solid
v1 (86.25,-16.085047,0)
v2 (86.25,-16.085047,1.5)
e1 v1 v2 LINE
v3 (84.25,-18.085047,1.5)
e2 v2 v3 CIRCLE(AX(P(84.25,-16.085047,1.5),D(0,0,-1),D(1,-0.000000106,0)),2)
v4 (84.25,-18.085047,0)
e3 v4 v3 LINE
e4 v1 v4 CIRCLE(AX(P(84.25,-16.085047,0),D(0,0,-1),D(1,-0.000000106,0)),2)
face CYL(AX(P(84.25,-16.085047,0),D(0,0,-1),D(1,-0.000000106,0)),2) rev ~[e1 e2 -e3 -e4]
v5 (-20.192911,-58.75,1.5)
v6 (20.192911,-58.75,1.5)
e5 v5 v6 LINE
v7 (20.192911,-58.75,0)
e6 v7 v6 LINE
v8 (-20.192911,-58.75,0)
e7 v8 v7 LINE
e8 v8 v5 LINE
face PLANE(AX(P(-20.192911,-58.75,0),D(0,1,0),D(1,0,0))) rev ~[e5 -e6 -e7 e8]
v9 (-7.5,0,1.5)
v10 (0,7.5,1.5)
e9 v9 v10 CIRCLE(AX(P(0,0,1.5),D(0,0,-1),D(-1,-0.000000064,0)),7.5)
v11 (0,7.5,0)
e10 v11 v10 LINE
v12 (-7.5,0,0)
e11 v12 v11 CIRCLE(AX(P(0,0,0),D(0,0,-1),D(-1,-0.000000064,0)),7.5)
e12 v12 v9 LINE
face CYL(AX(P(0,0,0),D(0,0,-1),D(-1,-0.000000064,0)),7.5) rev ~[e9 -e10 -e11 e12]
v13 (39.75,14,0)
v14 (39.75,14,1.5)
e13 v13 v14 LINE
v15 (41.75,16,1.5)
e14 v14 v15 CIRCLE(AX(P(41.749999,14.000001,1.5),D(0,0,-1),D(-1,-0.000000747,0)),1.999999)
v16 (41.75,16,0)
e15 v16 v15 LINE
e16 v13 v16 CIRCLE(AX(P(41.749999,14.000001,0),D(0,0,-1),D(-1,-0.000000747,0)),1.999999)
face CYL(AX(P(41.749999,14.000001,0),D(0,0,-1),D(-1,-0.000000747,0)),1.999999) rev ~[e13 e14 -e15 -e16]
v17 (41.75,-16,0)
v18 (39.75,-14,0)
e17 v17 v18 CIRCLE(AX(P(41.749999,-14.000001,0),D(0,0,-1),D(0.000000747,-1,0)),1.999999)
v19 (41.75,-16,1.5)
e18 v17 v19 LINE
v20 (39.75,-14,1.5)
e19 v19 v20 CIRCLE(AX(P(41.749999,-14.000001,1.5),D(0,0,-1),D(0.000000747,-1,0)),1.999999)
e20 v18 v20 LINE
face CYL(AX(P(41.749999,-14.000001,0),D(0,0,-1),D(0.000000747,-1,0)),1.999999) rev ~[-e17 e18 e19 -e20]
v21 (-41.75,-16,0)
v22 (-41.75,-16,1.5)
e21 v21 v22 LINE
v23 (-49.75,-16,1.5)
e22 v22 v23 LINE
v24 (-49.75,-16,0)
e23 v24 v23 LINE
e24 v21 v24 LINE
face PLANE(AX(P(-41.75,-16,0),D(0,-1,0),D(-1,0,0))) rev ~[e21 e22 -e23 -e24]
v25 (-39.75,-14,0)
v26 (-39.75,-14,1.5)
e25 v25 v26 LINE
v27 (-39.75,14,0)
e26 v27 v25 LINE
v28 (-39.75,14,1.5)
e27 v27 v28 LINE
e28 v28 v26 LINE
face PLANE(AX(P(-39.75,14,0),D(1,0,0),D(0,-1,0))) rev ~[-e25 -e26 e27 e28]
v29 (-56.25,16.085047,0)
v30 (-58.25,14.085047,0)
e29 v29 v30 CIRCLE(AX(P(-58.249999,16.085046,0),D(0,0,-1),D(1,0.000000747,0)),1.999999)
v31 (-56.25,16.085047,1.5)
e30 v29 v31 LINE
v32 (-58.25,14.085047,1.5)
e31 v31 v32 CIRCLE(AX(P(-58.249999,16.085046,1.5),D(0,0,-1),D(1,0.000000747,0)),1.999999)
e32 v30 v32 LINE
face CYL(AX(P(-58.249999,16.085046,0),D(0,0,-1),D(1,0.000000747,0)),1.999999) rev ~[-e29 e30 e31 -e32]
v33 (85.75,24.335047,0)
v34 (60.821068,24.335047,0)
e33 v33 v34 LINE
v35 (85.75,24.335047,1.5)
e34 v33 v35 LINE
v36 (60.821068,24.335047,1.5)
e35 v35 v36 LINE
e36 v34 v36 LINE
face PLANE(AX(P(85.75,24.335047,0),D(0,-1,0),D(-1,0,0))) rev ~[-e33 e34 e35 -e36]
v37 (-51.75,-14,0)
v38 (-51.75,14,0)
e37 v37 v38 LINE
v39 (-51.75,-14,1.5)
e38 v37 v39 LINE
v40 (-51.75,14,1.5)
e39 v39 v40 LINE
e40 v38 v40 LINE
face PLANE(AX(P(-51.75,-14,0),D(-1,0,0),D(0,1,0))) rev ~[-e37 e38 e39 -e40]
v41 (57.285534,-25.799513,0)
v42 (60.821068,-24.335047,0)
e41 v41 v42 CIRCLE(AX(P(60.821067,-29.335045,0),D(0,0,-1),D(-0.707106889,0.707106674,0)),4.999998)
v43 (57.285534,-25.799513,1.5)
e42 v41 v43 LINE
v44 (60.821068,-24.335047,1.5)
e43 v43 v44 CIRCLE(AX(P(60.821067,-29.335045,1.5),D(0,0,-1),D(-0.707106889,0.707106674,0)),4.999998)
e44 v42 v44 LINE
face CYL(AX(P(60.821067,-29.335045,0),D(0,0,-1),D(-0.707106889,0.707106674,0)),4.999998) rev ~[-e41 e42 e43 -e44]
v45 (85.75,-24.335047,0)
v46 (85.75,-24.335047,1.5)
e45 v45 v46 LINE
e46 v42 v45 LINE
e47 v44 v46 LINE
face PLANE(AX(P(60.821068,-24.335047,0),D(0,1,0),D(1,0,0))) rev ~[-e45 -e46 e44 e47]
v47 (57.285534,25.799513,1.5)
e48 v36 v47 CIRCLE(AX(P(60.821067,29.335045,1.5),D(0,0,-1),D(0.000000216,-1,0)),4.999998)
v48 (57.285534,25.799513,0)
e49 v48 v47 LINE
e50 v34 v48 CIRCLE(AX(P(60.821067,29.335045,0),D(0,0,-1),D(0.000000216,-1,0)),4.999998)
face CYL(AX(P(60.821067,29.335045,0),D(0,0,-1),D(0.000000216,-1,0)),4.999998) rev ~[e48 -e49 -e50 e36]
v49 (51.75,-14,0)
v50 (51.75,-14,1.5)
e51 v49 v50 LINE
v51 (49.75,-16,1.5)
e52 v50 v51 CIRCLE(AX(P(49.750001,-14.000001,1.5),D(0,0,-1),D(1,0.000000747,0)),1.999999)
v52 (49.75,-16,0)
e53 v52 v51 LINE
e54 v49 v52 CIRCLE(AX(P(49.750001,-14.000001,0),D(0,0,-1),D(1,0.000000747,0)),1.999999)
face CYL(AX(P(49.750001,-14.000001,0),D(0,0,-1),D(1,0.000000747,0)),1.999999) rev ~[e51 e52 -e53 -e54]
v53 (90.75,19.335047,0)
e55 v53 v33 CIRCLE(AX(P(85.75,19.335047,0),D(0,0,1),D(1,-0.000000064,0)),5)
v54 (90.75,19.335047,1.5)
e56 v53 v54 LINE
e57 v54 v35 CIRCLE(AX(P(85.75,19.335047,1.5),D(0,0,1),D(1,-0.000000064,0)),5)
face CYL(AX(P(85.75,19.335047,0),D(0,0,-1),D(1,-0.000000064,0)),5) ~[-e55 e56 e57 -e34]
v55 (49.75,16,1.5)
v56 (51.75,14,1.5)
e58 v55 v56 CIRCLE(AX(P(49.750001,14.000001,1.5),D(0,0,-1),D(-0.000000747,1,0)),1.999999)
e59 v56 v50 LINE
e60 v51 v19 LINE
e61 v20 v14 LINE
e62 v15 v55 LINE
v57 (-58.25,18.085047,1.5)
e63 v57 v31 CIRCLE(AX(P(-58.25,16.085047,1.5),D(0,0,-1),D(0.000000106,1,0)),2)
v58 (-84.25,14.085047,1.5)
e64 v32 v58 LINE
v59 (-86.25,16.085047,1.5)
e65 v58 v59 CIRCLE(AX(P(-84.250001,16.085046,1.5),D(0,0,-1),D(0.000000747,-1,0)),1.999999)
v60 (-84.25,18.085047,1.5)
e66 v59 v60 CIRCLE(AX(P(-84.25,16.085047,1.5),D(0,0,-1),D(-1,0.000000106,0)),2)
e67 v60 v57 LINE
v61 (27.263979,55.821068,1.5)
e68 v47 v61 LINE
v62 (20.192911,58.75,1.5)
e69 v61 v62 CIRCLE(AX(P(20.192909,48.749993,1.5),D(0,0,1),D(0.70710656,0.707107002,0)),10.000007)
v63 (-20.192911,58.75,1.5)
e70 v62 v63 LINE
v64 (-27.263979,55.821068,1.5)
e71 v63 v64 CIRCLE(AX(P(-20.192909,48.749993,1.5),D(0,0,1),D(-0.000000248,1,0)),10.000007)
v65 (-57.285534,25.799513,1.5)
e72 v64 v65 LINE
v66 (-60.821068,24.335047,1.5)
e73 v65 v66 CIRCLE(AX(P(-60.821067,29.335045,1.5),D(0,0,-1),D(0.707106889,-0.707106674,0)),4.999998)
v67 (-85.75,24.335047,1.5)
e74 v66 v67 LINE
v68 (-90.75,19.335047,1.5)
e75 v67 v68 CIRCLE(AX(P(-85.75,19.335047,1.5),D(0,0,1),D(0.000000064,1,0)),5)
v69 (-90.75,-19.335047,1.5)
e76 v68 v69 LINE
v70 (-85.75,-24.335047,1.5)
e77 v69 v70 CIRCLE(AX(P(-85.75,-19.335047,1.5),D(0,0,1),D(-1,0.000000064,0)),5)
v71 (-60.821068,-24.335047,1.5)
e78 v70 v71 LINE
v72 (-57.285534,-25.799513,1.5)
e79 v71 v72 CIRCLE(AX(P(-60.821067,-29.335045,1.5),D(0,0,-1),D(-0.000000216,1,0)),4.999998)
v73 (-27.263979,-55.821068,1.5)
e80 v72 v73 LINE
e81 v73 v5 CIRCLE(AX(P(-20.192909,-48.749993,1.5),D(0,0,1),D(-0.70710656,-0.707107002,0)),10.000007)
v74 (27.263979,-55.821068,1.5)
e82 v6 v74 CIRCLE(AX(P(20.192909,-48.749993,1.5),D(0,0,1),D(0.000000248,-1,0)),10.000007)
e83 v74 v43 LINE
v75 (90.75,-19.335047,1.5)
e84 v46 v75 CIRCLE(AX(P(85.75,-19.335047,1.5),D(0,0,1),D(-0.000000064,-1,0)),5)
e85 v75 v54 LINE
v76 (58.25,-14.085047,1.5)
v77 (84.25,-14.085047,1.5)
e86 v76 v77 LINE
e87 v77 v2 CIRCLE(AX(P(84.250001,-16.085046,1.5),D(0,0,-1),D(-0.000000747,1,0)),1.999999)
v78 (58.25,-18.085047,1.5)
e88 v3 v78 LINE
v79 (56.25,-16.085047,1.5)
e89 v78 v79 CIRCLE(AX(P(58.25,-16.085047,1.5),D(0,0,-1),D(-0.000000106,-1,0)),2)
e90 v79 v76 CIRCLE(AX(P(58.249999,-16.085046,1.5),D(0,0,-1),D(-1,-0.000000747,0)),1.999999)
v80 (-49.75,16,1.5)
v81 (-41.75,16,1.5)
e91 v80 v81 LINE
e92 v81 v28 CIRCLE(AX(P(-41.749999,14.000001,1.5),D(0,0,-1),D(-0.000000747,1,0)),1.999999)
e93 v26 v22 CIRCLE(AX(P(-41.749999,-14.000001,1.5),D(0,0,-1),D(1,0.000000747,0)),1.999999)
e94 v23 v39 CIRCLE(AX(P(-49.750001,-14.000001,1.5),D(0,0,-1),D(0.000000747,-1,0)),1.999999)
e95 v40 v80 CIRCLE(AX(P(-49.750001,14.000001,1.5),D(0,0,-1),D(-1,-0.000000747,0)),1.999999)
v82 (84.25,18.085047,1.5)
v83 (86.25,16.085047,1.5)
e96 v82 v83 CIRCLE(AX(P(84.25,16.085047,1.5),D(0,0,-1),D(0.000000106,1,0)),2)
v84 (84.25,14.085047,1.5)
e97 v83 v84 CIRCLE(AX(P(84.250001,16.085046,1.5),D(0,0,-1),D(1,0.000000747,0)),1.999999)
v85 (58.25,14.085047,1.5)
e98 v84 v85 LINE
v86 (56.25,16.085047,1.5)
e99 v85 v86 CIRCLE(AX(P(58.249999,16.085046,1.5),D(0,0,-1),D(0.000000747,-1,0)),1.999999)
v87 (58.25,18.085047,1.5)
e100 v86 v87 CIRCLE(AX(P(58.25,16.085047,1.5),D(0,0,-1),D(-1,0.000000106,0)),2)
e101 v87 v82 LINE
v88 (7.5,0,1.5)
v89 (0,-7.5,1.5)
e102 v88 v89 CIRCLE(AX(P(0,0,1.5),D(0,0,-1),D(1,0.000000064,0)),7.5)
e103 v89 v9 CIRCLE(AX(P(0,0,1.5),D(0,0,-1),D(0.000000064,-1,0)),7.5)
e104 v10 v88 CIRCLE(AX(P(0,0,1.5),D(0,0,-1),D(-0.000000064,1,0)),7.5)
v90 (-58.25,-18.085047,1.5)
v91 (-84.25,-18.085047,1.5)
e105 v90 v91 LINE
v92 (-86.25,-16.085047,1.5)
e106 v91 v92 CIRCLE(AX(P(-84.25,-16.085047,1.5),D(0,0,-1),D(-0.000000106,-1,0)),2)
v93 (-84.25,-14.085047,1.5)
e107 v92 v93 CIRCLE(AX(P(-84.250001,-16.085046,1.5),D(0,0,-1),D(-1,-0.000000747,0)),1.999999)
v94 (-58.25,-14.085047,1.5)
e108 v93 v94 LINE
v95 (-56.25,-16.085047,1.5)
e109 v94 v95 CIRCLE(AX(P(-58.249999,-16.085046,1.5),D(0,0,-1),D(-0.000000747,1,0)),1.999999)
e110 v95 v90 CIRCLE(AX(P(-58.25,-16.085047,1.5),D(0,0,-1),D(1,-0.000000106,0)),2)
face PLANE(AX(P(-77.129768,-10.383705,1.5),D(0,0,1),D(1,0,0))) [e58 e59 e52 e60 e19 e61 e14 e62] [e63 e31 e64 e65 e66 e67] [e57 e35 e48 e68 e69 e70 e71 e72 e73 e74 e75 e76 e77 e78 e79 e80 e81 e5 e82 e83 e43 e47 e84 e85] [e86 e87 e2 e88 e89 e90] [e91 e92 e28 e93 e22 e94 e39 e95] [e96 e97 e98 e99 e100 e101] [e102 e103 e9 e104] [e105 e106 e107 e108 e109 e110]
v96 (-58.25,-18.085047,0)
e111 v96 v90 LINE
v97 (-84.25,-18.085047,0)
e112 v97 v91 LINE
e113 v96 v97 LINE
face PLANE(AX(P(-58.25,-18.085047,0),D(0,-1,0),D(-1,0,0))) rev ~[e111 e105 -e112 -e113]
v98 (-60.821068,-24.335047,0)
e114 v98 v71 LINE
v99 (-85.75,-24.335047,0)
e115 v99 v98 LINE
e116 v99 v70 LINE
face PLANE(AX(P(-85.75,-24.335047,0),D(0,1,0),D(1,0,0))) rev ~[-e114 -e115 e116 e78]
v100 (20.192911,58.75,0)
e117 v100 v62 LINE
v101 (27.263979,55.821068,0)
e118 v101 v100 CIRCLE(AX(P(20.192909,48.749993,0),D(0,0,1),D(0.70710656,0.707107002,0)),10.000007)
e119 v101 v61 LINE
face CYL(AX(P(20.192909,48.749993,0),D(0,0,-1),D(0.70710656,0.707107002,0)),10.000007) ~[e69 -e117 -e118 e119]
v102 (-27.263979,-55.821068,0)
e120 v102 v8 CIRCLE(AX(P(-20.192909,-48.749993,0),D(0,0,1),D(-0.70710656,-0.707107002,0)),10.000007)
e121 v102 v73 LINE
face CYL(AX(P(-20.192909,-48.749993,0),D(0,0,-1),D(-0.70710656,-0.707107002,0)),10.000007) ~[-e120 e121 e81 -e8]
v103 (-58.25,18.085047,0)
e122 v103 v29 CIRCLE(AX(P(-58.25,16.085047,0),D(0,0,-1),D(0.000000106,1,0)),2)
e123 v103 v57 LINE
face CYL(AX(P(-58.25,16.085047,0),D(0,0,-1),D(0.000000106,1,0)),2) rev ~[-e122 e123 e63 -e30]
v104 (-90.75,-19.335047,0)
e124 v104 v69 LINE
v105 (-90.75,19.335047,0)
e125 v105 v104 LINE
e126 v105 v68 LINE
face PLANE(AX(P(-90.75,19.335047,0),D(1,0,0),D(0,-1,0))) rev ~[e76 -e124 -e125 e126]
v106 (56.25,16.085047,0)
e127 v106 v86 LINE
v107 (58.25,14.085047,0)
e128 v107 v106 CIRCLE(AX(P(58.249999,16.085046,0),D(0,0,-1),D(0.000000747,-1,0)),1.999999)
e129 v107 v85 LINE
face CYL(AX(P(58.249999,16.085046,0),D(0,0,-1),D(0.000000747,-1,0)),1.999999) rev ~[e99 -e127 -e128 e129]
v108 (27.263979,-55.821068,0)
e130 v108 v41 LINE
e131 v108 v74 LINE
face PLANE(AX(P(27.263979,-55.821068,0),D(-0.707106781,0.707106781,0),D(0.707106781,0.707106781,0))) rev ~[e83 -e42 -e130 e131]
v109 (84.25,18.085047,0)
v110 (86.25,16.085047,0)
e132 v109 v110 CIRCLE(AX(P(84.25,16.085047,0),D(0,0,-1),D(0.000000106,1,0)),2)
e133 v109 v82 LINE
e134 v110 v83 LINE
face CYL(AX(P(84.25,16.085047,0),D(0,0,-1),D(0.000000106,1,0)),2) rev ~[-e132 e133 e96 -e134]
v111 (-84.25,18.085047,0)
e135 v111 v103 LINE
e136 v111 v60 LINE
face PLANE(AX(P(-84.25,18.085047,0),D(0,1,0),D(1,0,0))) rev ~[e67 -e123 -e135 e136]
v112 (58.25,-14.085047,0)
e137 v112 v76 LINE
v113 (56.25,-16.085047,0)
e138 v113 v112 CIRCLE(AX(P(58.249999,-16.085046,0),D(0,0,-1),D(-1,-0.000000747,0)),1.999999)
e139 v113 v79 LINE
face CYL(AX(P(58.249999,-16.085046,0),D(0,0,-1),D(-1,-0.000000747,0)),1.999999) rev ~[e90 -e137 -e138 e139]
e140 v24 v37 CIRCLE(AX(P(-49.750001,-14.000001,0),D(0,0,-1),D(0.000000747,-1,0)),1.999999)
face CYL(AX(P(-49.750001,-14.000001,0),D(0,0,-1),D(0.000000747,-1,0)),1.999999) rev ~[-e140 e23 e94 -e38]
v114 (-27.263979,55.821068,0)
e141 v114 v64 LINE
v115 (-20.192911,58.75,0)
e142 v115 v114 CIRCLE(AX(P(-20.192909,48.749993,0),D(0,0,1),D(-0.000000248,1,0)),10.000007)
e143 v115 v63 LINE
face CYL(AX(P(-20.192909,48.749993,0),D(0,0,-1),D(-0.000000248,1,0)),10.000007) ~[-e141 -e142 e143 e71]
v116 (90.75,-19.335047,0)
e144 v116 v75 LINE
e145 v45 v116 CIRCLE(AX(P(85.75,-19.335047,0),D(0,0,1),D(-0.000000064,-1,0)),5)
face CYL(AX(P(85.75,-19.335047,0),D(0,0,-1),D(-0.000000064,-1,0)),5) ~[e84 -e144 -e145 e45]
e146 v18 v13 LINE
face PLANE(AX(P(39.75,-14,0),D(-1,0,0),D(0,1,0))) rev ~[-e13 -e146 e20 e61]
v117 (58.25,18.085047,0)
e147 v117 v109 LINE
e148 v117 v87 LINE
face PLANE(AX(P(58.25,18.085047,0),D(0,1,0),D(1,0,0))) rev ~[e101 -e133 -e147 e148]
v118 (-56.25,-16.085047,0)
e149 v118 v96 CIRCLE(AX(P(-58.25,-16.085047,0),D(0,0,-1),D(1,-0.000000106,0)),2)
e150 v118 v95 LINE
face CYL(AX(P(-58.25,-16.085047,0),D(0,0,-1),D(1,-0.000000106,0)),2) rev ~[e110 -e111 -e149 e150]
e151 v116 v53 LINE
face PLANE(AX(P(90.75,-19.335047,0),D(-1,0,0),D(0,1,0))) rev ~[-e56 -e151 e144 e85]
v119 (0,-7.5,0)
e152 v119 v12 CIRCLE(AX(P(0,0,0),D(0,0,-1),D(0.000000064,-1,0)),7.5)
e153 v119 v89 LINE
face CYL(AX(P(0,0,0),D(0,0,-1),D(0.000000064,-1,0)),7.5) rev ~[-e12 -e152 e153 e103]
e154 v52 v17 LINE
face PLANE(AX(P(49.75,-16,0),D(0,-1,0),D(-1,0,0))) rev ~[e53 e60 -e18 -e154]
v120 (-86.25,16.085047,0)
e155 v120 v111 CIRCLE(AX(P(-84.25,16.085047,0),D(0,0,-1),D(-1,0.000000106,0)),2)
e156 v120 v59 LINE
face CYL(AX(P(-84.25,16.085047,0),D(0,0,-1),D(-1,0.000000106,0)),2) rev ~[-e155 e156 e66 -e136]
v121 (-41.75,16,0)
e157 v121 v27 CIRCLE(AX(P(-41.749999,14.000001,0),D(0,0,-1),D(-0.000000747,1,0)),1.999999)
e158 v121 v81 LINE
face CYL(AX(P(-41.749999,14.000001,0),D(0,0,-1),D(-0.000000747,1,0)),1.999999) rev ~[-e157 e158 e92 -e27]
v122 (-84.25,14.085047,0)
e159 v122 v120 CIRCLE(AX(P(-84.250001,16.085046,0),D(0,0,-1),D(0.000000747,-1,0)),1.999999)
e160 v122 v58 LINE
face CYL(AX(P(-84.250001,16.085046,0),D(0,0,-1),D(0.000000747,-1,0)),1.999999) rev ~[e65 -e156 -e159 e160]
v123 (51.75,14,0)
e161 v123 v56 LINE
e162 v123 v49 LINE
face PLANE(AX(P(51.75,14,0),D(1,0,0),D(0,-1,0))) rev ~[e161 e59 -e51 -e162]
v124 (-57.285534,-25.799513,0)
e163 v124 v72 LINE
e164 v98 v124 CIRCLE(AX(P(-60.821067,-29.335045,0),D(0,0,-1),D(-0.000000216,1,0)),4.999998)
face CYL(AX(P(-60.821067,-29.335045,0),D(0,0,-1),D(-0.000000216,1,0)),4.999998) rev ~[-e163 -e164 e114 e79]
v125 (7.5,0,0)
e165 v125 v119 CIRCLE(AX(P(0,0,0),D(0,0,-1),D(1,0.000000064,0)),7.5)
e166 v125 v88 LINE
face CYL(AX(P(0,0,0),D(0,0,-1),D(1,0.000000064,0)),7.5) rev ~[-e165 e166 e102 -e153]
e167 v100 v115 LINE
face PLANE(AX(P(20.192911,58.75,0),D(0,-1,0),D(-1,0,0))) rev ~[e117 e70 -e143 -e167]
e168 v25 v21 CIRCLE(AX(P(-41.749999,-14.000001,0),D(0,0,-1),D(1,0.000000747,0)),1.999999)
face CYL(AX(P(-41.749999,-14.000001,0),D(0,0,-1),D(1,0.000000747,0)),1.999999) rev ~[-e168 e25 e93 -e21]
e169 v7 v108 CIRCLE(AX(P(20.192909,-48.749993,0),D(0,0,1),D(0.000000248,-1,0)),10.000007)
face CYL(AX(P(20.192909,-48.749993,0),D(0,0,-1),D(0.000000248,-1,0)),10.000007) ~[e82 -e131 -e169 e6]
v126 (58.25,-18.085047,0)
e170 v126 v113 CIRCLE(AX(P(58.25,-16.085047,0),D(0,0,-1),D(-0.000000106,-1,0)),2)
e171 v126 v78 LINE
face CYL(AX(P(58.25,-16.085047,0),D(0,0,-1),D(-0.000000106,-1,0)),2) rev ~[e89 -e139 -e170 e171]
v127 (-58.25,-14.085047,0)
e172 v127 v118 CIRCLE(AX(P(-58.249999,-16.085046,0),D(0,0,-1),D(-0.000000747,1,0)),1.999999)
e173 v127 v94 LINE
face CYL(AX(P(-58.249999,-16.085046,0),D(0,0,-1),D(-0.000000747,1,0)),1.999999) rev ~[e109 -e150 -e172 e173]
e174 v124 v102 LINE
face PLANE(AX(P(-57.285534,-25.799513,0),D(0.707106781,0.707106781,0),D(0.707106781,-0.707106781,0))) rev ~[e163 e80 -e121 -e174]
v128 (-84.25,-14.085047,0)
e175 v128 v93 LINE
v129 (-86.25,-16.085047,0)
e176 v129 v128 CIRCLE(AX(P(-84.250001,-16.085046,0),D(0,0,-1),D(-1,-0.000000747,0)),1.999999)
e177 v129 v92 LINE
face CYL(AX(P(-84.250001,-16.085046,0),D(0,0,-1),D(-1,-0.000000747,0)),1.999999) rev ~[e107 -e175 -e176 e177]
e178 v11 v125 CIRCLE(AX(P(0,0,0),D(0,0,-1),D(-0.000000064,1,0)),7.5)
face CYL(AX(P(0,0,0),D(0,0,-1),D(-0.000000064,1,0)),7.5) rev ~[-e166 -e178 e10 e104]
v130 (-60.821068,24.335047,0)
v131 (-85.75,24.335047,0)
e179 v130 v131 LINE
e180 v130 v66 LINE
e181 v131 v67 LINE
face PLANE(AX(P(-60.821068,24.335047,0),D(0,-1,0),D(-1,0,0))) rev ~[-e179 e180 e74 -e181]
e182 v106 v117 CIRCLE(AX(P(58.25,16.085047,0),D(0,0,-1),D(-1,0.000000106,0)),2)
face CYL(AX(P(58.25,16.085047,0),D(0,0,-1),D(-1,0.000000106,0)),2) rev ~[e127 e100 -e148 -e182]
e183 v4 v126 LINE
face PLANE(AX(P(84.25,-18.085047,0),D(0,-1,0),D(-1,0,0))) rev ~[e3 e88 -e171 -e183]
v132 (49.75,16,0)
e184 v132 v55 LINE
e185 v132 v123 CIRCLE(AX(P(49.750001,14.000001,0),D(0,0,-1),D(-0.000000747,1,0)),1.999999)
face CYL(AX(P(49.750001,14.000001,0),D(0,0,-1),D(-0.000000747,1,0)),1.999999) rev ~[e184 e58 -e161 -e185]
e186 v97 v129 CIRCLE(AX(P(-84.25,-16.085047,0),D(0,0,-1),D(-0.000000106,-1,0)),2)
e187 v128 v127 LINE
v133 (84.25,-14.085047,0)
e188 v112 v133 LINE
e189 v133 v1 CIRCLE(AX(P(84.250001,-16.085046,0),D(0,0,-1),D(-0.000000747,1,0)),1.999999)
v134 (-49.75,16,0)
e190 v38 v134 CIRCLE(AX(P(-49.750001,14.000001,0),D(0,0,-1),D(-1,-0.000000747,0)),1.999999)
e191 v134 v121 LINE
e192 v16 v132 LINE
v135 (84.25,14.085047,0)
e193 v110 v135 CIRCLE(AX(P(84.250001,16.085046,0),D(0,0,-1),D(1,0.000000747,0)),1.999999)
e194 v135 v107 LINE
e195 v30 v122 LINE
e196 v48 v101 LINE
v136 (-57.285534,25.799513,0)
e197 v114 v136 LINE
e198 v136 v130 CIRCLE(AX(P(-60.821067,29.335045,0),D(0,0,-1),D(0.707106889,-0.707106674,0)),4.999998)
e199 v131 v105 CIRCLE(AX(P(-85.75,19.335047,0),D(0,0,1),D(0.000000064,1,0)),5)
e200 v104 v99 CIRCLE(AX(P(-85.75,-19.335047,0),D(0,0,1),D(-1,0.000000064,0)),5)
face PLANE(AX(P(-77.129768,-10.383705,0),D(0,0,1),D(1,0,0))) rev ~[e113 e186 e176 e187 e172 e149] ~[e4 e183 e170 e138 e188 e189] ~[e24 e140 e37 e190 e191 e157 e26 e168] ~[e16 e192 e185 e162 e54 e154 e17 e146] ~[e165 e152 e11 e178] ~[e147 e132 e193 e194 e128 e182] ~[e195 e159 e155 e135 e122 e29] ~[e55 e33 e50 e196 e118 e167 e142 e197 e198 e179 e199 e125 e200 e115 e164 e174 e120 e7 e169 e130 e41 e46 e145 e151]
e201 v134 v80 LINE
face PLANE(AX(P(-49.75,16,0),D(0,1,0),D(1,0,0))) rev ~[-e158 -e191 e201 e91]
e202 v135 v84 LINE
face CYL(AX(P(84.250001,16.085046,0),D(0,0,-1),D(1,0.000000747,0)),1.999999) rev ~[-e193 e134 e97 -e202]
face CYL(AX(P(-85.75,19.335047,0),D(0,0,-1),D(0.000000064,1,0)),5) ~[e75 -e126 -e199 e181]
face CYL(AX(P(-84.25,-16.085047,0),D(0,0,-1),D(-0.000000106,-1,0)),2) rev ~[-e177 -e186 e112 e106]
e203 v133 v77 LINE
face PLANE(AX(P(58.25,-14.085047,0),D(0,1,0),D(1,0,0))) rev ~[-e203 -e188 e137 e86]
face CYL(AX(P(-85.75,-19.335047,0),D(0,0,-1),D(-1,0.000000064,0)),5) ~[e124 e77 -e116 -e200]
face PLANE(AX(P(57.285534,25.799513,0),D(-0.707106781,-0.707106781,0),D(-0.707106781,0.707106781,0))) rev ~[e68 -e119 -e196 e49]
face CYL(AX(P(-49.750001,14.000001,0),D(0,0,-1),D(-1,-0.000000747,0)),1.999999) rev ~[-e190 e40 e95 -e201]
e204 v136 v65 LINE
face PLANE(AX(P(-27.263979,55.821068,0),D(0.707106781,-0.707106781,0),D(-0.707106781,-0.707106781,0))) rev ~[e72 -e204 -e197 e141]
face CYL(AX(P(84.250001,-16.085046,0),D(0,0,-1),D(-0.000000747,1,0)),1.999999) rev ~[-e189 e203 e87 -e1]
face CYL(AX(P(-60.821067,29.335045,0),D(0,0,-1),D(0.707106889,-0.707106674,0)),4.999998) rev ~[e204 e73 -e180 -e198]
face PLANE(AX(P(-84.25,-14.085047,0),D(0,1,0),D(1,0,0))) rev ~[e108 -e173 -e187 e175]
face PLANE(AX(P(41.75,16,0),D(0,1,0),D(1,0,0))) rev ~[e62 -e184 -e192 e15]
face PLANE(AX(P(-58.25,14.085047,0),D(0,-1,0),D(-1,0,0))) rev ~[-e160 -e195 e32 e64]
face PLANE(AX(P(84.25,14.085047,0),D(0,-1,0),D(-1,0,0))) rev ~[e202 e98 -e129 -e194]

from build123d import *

# Parameters (mm, degrees)
F1_DEPTH = 1.5


with BuildPart() as f1:
    # F0 (on Top) → F1 (new body)
    with BuildSketch(Plane.XY):
        with BuildLine():
            Line((-58.75, -14.085047), (-58.75, 0))
            Line((-58.75, 0), (-90.75, 0))
            Line((-90.75, 0), (-90.75, -14.085047))
            Line((-90.75, -14.085047), (-90.75, -19.335047))
            ThreePointArc((-90.75, -19.335047), (-89.285534, -22.870581), (-85.75, -24.335047))
            Line((-85.75, -24.335047), (-80.50245, -24.335047))
            Line((-80.50245, -24.335047), (-80.50245, -18.085047))
            Line((-80.50245, -18.085047), (-84.25, -18.085047))
            ThreePointArc((-84.25, -18.085047), (-85.664214, -17.49926), (-86.25, -16.085047))
            ThreePointArc((-86.25, -16.085047), (-85.664214, -14.670833), (-84.25, -14.085047))
            Line((-84.25, -14.085047), (-58.75, -14.085047))
        make_face()
        with BuildLine():
            Line((90.75, 0), (58.75, 0))
            Line((58.75, 0), (51.75, 0))
            Line((51.75, 0), (51.75, -14))
            ThreePointArc((51.75, -14), (51.164214, -15.414214), (49.75, -16))
            Line((49.75, -16), (41.75, -16))
            ThreePointArc((41.75, -16), (40.335786, -15.414214), (39.75, -14))
            Line((39.75, -14), (39.75, 0))
            Line((39.75, 0), (7.5, 0))
            ThreePointArc((7.5, 0), (5.303301, -5.303301), (0, -7.5))
            Line((0, -7.5), (0, -58.75))
            Line((0, -58.75), (20.192911, -58.75))
            ThreePointArc((20.192911, -58.75), (24.019745, -57.988795), (27.263979, -55.821068))
            Line((27.263979, -55.821068), (57.285534, -25.799513))
            ThreePointArc((57.285534, -25.799513), (58.907651, -24.715649), (60.821068, -24.335047))
            Line((60.821068, -24.335047), (85.75, -24.335047))
            ThreePointArc((85.75, -24.335047), (89.285534, -22.870581), (90.75, -19.335047))
            Line((90.75, -19.335047), (90.75, 0))
        make_face()
        with BuildLine():
            Line((58.25, -14.085047), (58.75, -14.085047))
            Line((58.75, -14.085047), (84.25, -14.085047))
            ThreePointArc((84.25, -14.085047), (85.664214, -14.670833), (86.25, -16.085047))
            ThreePointArc((86.25, -16.085047), (85.664214, -17.49926), (84.25, -18.085047))
            Line((84.25, -18.085047), (58.75, -18.085047))
            Line((58.75, -18.085047), (58.25, -18.085047))
            ThreePointArc((58.25, -18.085047), (56.835786, -17.49926), (56.25, -16.085047))
            ThreePointArc((56.25, -16.085047), (56.835786, -14.670833), (58.25, -14.085047))
        make_face(mode=Mode.SUBTRACT)
        with BuildLine():
            Line((51.75, 0), (58.75, 0))
            Line((58.75, 0), (90.75, 0))
            Line((90.75, 0), (90.75, 19.335047))
            ThreePointArc((90.75, 19.335047), (89.285534, 22.870581), (85.75, 24.335047))
            Line((85.75, 24.335047), (60.821068, 24.335047))
            ThreePointArc((60.821068, 24.335047), (58.907651, 24.715649), (57.285534, 25.799513))
            Line((57.285534, 25.799513), (27.263979, 55.821068))
            ThreePointArc((27.263979, 55.821068), (24.019745, 57.988795), (20.192911, 58.75))
            Line((20.192911, 58.75), (0, 58.75))
            Line((0, 58.75), (0, 7.5))
            ThreePointArc((0, 7.5), (5.303301, 5.303301), (7.5, 0))
            Line((7.5, 0), (39.75, 0))
            Line((39.75, 0), (39.75, 14))
            ThreePointArc((39.75, 14), (40.335786, 15.414214), (41.75, 16))
            Line((41.75, 16), (49.75, 16))
            ThreePointArc((49.75, 16), (51.164214, 15.414214), (51.75, 14))
            Line((51.75, 14), (51.75, 0))
        make_face()
        with BuildLine():
            Line((58.25, 18.085047), (58.75, 18.085047))
            Line((58.75, 18.085047), (84.25, 18.085047))
            ThreePointArc((84.25, 18.085047), (85.664214, 17.49926), (86.25, 16.085047))
            ThreePointArc((86.25, 16.085047), (85.664214, 14.670833), (84.25, 14.085047))
            Line((84.25, 14.085047), (58.75, 14.085047))
            Line((58.75, 14.085047), (58.25, 14.085047))
            ThreePointArc((58.25, 14.085047), (56.835786, 14.670833), (56.25, 16.085047))
            ThreePointArc((56.25, 16.085047), (56.835786, 17.49926), (58.25, 18.085047))
        make_face(mode=Mode.SUBTRACT)
        with BuildLine():
            Line((0, -58.75), (0, -7.5))
            ThreePointArc((0, -7.5), (-5.303301, -5.303301), (-7.5, 0))
            Line((-7.5, 0), (-39.75, 0))
            Line((-39.75, 0), (-39.75, -14))
            ThreePointArc((-39.75, -14), (-40.335786, -15.414214), (-41.75, -16))
            Line((-41.75, -16), (-49.75, -16))
            ThreePointArc((-49.75, -16), (-51.164214, -15.414214), (-51.75, -14))
            Line((-51.75, -14), (-51.75, 0))
            Line((-51.75, 0), (-58.75, 0))
            Line((-58.75, 0), (-58.75, -14.085047))
            Line((-58.75, -14.085047), (-58.25, -14.085047))
            ThreePointArc((-58.25, -14.085047), (-56.835786, -14.670833), (-56.25, -16.085047))
            ThreePointArc((-56.25, -16.085047), (-56.835786, -17.49926), (-58.25, -18.085047))
            Line((-58.25, -18.085047), (-58.75, -18.085047))
            Line((-58.75, -18.085047), (-80.50245, -18.085047))
            Line((-80.50245, -18.085047), (-80.50245, -24.335047))
            Line((-80.50245, -24.335047), (-60.821068, -24.335047))
            ThreePointArc((-60.821068, -24.335047), (-58.907651, -24.715649), (-57.285534, -25.799513))
            Line((-57.285534, -25.799513), (-27.263979, -55.821068))
            ThreePointArc((-27.263979, -55.821068), (-24.019745, -57.988795), (-20.192911, -58.75))
            Line((-20.192911, -58.75), (0, -58.75))
        make_face()
        with BuildLine():
            ThreePointArc((-7.5, 0), (-5.303301, 5.303301), (0, 7.5))
            Line((0, 7.5), (0, 58.75))
            Line((0, 58.75), (-20.192911, 58.75))
            ThreePointArc((-20.192911, 58.75), (-24.019745, 57.988795), (-27.263979, 55.821068))
            Line((-27.263979, 55.821068), (-57.285534, 25.799513))
            ThreePointArc((-57.285534, 25.799513), (-58.907651, 24.715649), (-60.821068, 24.335047))
            Line((-60.821068, 24.335047), (-85.75, 24.335047))
            ThreePointArc((-85.75, 24.335047), (-89.285534, 22.870581), (-90.75, 19.335047))
            Line((-90.75, 19.335047), (-90.75, 0))
            Line((-90.75, 0), (-58.75, 0))
            Line((-58.75, 0), (-51.75, 0))
            Line((-51.75, 0), (-51.75, 14))
            ThreePointArc((-51.75, 14), (-51.164214, 15.414214), (-49.75, 16))
            Line((-49.75, 16), (-41.75, 16))
            ThreePointArc((-41.75, 16), (-40.335786, 15.414214), (-39.75, 14))
            Line((-39.75, 14), (-39.75, 0))
            Line((-39.75, 0), (-7.5, 0))
        make_face()
        with BuildLine():
            Line((-58.25, 14.085047), (-58.75, 14.085047))
            Line((-58.75, 14.085047), (-84.25, 14.085047))
            ThreePointArc((-84.25, 14.085047), (-85.664214, 14.670833), (-86.25, 16.085047))
            ThreePointArc((-86.25, 16.085047), (-85.664214, 17.49926), (-84.25, 18.085047))
            Line((-84.25, 18.085047), (-58.75, 18.085047))
            Line((-58.75, 18.085047), (-58.25, 18.085047))
            ThreePointArc((-58.25, 18.085047), (-56.835786, 17.49926), (-56.25, 16.085047))
            ThreePointArc((-56.25, 16.085047), (-56.835786, 14.670833), (-58.25, 14.085047))
        make_face(mode=Mode.SUBTRACT)
    extrude(amount=F1_DEPTH)


solid = f1.part
